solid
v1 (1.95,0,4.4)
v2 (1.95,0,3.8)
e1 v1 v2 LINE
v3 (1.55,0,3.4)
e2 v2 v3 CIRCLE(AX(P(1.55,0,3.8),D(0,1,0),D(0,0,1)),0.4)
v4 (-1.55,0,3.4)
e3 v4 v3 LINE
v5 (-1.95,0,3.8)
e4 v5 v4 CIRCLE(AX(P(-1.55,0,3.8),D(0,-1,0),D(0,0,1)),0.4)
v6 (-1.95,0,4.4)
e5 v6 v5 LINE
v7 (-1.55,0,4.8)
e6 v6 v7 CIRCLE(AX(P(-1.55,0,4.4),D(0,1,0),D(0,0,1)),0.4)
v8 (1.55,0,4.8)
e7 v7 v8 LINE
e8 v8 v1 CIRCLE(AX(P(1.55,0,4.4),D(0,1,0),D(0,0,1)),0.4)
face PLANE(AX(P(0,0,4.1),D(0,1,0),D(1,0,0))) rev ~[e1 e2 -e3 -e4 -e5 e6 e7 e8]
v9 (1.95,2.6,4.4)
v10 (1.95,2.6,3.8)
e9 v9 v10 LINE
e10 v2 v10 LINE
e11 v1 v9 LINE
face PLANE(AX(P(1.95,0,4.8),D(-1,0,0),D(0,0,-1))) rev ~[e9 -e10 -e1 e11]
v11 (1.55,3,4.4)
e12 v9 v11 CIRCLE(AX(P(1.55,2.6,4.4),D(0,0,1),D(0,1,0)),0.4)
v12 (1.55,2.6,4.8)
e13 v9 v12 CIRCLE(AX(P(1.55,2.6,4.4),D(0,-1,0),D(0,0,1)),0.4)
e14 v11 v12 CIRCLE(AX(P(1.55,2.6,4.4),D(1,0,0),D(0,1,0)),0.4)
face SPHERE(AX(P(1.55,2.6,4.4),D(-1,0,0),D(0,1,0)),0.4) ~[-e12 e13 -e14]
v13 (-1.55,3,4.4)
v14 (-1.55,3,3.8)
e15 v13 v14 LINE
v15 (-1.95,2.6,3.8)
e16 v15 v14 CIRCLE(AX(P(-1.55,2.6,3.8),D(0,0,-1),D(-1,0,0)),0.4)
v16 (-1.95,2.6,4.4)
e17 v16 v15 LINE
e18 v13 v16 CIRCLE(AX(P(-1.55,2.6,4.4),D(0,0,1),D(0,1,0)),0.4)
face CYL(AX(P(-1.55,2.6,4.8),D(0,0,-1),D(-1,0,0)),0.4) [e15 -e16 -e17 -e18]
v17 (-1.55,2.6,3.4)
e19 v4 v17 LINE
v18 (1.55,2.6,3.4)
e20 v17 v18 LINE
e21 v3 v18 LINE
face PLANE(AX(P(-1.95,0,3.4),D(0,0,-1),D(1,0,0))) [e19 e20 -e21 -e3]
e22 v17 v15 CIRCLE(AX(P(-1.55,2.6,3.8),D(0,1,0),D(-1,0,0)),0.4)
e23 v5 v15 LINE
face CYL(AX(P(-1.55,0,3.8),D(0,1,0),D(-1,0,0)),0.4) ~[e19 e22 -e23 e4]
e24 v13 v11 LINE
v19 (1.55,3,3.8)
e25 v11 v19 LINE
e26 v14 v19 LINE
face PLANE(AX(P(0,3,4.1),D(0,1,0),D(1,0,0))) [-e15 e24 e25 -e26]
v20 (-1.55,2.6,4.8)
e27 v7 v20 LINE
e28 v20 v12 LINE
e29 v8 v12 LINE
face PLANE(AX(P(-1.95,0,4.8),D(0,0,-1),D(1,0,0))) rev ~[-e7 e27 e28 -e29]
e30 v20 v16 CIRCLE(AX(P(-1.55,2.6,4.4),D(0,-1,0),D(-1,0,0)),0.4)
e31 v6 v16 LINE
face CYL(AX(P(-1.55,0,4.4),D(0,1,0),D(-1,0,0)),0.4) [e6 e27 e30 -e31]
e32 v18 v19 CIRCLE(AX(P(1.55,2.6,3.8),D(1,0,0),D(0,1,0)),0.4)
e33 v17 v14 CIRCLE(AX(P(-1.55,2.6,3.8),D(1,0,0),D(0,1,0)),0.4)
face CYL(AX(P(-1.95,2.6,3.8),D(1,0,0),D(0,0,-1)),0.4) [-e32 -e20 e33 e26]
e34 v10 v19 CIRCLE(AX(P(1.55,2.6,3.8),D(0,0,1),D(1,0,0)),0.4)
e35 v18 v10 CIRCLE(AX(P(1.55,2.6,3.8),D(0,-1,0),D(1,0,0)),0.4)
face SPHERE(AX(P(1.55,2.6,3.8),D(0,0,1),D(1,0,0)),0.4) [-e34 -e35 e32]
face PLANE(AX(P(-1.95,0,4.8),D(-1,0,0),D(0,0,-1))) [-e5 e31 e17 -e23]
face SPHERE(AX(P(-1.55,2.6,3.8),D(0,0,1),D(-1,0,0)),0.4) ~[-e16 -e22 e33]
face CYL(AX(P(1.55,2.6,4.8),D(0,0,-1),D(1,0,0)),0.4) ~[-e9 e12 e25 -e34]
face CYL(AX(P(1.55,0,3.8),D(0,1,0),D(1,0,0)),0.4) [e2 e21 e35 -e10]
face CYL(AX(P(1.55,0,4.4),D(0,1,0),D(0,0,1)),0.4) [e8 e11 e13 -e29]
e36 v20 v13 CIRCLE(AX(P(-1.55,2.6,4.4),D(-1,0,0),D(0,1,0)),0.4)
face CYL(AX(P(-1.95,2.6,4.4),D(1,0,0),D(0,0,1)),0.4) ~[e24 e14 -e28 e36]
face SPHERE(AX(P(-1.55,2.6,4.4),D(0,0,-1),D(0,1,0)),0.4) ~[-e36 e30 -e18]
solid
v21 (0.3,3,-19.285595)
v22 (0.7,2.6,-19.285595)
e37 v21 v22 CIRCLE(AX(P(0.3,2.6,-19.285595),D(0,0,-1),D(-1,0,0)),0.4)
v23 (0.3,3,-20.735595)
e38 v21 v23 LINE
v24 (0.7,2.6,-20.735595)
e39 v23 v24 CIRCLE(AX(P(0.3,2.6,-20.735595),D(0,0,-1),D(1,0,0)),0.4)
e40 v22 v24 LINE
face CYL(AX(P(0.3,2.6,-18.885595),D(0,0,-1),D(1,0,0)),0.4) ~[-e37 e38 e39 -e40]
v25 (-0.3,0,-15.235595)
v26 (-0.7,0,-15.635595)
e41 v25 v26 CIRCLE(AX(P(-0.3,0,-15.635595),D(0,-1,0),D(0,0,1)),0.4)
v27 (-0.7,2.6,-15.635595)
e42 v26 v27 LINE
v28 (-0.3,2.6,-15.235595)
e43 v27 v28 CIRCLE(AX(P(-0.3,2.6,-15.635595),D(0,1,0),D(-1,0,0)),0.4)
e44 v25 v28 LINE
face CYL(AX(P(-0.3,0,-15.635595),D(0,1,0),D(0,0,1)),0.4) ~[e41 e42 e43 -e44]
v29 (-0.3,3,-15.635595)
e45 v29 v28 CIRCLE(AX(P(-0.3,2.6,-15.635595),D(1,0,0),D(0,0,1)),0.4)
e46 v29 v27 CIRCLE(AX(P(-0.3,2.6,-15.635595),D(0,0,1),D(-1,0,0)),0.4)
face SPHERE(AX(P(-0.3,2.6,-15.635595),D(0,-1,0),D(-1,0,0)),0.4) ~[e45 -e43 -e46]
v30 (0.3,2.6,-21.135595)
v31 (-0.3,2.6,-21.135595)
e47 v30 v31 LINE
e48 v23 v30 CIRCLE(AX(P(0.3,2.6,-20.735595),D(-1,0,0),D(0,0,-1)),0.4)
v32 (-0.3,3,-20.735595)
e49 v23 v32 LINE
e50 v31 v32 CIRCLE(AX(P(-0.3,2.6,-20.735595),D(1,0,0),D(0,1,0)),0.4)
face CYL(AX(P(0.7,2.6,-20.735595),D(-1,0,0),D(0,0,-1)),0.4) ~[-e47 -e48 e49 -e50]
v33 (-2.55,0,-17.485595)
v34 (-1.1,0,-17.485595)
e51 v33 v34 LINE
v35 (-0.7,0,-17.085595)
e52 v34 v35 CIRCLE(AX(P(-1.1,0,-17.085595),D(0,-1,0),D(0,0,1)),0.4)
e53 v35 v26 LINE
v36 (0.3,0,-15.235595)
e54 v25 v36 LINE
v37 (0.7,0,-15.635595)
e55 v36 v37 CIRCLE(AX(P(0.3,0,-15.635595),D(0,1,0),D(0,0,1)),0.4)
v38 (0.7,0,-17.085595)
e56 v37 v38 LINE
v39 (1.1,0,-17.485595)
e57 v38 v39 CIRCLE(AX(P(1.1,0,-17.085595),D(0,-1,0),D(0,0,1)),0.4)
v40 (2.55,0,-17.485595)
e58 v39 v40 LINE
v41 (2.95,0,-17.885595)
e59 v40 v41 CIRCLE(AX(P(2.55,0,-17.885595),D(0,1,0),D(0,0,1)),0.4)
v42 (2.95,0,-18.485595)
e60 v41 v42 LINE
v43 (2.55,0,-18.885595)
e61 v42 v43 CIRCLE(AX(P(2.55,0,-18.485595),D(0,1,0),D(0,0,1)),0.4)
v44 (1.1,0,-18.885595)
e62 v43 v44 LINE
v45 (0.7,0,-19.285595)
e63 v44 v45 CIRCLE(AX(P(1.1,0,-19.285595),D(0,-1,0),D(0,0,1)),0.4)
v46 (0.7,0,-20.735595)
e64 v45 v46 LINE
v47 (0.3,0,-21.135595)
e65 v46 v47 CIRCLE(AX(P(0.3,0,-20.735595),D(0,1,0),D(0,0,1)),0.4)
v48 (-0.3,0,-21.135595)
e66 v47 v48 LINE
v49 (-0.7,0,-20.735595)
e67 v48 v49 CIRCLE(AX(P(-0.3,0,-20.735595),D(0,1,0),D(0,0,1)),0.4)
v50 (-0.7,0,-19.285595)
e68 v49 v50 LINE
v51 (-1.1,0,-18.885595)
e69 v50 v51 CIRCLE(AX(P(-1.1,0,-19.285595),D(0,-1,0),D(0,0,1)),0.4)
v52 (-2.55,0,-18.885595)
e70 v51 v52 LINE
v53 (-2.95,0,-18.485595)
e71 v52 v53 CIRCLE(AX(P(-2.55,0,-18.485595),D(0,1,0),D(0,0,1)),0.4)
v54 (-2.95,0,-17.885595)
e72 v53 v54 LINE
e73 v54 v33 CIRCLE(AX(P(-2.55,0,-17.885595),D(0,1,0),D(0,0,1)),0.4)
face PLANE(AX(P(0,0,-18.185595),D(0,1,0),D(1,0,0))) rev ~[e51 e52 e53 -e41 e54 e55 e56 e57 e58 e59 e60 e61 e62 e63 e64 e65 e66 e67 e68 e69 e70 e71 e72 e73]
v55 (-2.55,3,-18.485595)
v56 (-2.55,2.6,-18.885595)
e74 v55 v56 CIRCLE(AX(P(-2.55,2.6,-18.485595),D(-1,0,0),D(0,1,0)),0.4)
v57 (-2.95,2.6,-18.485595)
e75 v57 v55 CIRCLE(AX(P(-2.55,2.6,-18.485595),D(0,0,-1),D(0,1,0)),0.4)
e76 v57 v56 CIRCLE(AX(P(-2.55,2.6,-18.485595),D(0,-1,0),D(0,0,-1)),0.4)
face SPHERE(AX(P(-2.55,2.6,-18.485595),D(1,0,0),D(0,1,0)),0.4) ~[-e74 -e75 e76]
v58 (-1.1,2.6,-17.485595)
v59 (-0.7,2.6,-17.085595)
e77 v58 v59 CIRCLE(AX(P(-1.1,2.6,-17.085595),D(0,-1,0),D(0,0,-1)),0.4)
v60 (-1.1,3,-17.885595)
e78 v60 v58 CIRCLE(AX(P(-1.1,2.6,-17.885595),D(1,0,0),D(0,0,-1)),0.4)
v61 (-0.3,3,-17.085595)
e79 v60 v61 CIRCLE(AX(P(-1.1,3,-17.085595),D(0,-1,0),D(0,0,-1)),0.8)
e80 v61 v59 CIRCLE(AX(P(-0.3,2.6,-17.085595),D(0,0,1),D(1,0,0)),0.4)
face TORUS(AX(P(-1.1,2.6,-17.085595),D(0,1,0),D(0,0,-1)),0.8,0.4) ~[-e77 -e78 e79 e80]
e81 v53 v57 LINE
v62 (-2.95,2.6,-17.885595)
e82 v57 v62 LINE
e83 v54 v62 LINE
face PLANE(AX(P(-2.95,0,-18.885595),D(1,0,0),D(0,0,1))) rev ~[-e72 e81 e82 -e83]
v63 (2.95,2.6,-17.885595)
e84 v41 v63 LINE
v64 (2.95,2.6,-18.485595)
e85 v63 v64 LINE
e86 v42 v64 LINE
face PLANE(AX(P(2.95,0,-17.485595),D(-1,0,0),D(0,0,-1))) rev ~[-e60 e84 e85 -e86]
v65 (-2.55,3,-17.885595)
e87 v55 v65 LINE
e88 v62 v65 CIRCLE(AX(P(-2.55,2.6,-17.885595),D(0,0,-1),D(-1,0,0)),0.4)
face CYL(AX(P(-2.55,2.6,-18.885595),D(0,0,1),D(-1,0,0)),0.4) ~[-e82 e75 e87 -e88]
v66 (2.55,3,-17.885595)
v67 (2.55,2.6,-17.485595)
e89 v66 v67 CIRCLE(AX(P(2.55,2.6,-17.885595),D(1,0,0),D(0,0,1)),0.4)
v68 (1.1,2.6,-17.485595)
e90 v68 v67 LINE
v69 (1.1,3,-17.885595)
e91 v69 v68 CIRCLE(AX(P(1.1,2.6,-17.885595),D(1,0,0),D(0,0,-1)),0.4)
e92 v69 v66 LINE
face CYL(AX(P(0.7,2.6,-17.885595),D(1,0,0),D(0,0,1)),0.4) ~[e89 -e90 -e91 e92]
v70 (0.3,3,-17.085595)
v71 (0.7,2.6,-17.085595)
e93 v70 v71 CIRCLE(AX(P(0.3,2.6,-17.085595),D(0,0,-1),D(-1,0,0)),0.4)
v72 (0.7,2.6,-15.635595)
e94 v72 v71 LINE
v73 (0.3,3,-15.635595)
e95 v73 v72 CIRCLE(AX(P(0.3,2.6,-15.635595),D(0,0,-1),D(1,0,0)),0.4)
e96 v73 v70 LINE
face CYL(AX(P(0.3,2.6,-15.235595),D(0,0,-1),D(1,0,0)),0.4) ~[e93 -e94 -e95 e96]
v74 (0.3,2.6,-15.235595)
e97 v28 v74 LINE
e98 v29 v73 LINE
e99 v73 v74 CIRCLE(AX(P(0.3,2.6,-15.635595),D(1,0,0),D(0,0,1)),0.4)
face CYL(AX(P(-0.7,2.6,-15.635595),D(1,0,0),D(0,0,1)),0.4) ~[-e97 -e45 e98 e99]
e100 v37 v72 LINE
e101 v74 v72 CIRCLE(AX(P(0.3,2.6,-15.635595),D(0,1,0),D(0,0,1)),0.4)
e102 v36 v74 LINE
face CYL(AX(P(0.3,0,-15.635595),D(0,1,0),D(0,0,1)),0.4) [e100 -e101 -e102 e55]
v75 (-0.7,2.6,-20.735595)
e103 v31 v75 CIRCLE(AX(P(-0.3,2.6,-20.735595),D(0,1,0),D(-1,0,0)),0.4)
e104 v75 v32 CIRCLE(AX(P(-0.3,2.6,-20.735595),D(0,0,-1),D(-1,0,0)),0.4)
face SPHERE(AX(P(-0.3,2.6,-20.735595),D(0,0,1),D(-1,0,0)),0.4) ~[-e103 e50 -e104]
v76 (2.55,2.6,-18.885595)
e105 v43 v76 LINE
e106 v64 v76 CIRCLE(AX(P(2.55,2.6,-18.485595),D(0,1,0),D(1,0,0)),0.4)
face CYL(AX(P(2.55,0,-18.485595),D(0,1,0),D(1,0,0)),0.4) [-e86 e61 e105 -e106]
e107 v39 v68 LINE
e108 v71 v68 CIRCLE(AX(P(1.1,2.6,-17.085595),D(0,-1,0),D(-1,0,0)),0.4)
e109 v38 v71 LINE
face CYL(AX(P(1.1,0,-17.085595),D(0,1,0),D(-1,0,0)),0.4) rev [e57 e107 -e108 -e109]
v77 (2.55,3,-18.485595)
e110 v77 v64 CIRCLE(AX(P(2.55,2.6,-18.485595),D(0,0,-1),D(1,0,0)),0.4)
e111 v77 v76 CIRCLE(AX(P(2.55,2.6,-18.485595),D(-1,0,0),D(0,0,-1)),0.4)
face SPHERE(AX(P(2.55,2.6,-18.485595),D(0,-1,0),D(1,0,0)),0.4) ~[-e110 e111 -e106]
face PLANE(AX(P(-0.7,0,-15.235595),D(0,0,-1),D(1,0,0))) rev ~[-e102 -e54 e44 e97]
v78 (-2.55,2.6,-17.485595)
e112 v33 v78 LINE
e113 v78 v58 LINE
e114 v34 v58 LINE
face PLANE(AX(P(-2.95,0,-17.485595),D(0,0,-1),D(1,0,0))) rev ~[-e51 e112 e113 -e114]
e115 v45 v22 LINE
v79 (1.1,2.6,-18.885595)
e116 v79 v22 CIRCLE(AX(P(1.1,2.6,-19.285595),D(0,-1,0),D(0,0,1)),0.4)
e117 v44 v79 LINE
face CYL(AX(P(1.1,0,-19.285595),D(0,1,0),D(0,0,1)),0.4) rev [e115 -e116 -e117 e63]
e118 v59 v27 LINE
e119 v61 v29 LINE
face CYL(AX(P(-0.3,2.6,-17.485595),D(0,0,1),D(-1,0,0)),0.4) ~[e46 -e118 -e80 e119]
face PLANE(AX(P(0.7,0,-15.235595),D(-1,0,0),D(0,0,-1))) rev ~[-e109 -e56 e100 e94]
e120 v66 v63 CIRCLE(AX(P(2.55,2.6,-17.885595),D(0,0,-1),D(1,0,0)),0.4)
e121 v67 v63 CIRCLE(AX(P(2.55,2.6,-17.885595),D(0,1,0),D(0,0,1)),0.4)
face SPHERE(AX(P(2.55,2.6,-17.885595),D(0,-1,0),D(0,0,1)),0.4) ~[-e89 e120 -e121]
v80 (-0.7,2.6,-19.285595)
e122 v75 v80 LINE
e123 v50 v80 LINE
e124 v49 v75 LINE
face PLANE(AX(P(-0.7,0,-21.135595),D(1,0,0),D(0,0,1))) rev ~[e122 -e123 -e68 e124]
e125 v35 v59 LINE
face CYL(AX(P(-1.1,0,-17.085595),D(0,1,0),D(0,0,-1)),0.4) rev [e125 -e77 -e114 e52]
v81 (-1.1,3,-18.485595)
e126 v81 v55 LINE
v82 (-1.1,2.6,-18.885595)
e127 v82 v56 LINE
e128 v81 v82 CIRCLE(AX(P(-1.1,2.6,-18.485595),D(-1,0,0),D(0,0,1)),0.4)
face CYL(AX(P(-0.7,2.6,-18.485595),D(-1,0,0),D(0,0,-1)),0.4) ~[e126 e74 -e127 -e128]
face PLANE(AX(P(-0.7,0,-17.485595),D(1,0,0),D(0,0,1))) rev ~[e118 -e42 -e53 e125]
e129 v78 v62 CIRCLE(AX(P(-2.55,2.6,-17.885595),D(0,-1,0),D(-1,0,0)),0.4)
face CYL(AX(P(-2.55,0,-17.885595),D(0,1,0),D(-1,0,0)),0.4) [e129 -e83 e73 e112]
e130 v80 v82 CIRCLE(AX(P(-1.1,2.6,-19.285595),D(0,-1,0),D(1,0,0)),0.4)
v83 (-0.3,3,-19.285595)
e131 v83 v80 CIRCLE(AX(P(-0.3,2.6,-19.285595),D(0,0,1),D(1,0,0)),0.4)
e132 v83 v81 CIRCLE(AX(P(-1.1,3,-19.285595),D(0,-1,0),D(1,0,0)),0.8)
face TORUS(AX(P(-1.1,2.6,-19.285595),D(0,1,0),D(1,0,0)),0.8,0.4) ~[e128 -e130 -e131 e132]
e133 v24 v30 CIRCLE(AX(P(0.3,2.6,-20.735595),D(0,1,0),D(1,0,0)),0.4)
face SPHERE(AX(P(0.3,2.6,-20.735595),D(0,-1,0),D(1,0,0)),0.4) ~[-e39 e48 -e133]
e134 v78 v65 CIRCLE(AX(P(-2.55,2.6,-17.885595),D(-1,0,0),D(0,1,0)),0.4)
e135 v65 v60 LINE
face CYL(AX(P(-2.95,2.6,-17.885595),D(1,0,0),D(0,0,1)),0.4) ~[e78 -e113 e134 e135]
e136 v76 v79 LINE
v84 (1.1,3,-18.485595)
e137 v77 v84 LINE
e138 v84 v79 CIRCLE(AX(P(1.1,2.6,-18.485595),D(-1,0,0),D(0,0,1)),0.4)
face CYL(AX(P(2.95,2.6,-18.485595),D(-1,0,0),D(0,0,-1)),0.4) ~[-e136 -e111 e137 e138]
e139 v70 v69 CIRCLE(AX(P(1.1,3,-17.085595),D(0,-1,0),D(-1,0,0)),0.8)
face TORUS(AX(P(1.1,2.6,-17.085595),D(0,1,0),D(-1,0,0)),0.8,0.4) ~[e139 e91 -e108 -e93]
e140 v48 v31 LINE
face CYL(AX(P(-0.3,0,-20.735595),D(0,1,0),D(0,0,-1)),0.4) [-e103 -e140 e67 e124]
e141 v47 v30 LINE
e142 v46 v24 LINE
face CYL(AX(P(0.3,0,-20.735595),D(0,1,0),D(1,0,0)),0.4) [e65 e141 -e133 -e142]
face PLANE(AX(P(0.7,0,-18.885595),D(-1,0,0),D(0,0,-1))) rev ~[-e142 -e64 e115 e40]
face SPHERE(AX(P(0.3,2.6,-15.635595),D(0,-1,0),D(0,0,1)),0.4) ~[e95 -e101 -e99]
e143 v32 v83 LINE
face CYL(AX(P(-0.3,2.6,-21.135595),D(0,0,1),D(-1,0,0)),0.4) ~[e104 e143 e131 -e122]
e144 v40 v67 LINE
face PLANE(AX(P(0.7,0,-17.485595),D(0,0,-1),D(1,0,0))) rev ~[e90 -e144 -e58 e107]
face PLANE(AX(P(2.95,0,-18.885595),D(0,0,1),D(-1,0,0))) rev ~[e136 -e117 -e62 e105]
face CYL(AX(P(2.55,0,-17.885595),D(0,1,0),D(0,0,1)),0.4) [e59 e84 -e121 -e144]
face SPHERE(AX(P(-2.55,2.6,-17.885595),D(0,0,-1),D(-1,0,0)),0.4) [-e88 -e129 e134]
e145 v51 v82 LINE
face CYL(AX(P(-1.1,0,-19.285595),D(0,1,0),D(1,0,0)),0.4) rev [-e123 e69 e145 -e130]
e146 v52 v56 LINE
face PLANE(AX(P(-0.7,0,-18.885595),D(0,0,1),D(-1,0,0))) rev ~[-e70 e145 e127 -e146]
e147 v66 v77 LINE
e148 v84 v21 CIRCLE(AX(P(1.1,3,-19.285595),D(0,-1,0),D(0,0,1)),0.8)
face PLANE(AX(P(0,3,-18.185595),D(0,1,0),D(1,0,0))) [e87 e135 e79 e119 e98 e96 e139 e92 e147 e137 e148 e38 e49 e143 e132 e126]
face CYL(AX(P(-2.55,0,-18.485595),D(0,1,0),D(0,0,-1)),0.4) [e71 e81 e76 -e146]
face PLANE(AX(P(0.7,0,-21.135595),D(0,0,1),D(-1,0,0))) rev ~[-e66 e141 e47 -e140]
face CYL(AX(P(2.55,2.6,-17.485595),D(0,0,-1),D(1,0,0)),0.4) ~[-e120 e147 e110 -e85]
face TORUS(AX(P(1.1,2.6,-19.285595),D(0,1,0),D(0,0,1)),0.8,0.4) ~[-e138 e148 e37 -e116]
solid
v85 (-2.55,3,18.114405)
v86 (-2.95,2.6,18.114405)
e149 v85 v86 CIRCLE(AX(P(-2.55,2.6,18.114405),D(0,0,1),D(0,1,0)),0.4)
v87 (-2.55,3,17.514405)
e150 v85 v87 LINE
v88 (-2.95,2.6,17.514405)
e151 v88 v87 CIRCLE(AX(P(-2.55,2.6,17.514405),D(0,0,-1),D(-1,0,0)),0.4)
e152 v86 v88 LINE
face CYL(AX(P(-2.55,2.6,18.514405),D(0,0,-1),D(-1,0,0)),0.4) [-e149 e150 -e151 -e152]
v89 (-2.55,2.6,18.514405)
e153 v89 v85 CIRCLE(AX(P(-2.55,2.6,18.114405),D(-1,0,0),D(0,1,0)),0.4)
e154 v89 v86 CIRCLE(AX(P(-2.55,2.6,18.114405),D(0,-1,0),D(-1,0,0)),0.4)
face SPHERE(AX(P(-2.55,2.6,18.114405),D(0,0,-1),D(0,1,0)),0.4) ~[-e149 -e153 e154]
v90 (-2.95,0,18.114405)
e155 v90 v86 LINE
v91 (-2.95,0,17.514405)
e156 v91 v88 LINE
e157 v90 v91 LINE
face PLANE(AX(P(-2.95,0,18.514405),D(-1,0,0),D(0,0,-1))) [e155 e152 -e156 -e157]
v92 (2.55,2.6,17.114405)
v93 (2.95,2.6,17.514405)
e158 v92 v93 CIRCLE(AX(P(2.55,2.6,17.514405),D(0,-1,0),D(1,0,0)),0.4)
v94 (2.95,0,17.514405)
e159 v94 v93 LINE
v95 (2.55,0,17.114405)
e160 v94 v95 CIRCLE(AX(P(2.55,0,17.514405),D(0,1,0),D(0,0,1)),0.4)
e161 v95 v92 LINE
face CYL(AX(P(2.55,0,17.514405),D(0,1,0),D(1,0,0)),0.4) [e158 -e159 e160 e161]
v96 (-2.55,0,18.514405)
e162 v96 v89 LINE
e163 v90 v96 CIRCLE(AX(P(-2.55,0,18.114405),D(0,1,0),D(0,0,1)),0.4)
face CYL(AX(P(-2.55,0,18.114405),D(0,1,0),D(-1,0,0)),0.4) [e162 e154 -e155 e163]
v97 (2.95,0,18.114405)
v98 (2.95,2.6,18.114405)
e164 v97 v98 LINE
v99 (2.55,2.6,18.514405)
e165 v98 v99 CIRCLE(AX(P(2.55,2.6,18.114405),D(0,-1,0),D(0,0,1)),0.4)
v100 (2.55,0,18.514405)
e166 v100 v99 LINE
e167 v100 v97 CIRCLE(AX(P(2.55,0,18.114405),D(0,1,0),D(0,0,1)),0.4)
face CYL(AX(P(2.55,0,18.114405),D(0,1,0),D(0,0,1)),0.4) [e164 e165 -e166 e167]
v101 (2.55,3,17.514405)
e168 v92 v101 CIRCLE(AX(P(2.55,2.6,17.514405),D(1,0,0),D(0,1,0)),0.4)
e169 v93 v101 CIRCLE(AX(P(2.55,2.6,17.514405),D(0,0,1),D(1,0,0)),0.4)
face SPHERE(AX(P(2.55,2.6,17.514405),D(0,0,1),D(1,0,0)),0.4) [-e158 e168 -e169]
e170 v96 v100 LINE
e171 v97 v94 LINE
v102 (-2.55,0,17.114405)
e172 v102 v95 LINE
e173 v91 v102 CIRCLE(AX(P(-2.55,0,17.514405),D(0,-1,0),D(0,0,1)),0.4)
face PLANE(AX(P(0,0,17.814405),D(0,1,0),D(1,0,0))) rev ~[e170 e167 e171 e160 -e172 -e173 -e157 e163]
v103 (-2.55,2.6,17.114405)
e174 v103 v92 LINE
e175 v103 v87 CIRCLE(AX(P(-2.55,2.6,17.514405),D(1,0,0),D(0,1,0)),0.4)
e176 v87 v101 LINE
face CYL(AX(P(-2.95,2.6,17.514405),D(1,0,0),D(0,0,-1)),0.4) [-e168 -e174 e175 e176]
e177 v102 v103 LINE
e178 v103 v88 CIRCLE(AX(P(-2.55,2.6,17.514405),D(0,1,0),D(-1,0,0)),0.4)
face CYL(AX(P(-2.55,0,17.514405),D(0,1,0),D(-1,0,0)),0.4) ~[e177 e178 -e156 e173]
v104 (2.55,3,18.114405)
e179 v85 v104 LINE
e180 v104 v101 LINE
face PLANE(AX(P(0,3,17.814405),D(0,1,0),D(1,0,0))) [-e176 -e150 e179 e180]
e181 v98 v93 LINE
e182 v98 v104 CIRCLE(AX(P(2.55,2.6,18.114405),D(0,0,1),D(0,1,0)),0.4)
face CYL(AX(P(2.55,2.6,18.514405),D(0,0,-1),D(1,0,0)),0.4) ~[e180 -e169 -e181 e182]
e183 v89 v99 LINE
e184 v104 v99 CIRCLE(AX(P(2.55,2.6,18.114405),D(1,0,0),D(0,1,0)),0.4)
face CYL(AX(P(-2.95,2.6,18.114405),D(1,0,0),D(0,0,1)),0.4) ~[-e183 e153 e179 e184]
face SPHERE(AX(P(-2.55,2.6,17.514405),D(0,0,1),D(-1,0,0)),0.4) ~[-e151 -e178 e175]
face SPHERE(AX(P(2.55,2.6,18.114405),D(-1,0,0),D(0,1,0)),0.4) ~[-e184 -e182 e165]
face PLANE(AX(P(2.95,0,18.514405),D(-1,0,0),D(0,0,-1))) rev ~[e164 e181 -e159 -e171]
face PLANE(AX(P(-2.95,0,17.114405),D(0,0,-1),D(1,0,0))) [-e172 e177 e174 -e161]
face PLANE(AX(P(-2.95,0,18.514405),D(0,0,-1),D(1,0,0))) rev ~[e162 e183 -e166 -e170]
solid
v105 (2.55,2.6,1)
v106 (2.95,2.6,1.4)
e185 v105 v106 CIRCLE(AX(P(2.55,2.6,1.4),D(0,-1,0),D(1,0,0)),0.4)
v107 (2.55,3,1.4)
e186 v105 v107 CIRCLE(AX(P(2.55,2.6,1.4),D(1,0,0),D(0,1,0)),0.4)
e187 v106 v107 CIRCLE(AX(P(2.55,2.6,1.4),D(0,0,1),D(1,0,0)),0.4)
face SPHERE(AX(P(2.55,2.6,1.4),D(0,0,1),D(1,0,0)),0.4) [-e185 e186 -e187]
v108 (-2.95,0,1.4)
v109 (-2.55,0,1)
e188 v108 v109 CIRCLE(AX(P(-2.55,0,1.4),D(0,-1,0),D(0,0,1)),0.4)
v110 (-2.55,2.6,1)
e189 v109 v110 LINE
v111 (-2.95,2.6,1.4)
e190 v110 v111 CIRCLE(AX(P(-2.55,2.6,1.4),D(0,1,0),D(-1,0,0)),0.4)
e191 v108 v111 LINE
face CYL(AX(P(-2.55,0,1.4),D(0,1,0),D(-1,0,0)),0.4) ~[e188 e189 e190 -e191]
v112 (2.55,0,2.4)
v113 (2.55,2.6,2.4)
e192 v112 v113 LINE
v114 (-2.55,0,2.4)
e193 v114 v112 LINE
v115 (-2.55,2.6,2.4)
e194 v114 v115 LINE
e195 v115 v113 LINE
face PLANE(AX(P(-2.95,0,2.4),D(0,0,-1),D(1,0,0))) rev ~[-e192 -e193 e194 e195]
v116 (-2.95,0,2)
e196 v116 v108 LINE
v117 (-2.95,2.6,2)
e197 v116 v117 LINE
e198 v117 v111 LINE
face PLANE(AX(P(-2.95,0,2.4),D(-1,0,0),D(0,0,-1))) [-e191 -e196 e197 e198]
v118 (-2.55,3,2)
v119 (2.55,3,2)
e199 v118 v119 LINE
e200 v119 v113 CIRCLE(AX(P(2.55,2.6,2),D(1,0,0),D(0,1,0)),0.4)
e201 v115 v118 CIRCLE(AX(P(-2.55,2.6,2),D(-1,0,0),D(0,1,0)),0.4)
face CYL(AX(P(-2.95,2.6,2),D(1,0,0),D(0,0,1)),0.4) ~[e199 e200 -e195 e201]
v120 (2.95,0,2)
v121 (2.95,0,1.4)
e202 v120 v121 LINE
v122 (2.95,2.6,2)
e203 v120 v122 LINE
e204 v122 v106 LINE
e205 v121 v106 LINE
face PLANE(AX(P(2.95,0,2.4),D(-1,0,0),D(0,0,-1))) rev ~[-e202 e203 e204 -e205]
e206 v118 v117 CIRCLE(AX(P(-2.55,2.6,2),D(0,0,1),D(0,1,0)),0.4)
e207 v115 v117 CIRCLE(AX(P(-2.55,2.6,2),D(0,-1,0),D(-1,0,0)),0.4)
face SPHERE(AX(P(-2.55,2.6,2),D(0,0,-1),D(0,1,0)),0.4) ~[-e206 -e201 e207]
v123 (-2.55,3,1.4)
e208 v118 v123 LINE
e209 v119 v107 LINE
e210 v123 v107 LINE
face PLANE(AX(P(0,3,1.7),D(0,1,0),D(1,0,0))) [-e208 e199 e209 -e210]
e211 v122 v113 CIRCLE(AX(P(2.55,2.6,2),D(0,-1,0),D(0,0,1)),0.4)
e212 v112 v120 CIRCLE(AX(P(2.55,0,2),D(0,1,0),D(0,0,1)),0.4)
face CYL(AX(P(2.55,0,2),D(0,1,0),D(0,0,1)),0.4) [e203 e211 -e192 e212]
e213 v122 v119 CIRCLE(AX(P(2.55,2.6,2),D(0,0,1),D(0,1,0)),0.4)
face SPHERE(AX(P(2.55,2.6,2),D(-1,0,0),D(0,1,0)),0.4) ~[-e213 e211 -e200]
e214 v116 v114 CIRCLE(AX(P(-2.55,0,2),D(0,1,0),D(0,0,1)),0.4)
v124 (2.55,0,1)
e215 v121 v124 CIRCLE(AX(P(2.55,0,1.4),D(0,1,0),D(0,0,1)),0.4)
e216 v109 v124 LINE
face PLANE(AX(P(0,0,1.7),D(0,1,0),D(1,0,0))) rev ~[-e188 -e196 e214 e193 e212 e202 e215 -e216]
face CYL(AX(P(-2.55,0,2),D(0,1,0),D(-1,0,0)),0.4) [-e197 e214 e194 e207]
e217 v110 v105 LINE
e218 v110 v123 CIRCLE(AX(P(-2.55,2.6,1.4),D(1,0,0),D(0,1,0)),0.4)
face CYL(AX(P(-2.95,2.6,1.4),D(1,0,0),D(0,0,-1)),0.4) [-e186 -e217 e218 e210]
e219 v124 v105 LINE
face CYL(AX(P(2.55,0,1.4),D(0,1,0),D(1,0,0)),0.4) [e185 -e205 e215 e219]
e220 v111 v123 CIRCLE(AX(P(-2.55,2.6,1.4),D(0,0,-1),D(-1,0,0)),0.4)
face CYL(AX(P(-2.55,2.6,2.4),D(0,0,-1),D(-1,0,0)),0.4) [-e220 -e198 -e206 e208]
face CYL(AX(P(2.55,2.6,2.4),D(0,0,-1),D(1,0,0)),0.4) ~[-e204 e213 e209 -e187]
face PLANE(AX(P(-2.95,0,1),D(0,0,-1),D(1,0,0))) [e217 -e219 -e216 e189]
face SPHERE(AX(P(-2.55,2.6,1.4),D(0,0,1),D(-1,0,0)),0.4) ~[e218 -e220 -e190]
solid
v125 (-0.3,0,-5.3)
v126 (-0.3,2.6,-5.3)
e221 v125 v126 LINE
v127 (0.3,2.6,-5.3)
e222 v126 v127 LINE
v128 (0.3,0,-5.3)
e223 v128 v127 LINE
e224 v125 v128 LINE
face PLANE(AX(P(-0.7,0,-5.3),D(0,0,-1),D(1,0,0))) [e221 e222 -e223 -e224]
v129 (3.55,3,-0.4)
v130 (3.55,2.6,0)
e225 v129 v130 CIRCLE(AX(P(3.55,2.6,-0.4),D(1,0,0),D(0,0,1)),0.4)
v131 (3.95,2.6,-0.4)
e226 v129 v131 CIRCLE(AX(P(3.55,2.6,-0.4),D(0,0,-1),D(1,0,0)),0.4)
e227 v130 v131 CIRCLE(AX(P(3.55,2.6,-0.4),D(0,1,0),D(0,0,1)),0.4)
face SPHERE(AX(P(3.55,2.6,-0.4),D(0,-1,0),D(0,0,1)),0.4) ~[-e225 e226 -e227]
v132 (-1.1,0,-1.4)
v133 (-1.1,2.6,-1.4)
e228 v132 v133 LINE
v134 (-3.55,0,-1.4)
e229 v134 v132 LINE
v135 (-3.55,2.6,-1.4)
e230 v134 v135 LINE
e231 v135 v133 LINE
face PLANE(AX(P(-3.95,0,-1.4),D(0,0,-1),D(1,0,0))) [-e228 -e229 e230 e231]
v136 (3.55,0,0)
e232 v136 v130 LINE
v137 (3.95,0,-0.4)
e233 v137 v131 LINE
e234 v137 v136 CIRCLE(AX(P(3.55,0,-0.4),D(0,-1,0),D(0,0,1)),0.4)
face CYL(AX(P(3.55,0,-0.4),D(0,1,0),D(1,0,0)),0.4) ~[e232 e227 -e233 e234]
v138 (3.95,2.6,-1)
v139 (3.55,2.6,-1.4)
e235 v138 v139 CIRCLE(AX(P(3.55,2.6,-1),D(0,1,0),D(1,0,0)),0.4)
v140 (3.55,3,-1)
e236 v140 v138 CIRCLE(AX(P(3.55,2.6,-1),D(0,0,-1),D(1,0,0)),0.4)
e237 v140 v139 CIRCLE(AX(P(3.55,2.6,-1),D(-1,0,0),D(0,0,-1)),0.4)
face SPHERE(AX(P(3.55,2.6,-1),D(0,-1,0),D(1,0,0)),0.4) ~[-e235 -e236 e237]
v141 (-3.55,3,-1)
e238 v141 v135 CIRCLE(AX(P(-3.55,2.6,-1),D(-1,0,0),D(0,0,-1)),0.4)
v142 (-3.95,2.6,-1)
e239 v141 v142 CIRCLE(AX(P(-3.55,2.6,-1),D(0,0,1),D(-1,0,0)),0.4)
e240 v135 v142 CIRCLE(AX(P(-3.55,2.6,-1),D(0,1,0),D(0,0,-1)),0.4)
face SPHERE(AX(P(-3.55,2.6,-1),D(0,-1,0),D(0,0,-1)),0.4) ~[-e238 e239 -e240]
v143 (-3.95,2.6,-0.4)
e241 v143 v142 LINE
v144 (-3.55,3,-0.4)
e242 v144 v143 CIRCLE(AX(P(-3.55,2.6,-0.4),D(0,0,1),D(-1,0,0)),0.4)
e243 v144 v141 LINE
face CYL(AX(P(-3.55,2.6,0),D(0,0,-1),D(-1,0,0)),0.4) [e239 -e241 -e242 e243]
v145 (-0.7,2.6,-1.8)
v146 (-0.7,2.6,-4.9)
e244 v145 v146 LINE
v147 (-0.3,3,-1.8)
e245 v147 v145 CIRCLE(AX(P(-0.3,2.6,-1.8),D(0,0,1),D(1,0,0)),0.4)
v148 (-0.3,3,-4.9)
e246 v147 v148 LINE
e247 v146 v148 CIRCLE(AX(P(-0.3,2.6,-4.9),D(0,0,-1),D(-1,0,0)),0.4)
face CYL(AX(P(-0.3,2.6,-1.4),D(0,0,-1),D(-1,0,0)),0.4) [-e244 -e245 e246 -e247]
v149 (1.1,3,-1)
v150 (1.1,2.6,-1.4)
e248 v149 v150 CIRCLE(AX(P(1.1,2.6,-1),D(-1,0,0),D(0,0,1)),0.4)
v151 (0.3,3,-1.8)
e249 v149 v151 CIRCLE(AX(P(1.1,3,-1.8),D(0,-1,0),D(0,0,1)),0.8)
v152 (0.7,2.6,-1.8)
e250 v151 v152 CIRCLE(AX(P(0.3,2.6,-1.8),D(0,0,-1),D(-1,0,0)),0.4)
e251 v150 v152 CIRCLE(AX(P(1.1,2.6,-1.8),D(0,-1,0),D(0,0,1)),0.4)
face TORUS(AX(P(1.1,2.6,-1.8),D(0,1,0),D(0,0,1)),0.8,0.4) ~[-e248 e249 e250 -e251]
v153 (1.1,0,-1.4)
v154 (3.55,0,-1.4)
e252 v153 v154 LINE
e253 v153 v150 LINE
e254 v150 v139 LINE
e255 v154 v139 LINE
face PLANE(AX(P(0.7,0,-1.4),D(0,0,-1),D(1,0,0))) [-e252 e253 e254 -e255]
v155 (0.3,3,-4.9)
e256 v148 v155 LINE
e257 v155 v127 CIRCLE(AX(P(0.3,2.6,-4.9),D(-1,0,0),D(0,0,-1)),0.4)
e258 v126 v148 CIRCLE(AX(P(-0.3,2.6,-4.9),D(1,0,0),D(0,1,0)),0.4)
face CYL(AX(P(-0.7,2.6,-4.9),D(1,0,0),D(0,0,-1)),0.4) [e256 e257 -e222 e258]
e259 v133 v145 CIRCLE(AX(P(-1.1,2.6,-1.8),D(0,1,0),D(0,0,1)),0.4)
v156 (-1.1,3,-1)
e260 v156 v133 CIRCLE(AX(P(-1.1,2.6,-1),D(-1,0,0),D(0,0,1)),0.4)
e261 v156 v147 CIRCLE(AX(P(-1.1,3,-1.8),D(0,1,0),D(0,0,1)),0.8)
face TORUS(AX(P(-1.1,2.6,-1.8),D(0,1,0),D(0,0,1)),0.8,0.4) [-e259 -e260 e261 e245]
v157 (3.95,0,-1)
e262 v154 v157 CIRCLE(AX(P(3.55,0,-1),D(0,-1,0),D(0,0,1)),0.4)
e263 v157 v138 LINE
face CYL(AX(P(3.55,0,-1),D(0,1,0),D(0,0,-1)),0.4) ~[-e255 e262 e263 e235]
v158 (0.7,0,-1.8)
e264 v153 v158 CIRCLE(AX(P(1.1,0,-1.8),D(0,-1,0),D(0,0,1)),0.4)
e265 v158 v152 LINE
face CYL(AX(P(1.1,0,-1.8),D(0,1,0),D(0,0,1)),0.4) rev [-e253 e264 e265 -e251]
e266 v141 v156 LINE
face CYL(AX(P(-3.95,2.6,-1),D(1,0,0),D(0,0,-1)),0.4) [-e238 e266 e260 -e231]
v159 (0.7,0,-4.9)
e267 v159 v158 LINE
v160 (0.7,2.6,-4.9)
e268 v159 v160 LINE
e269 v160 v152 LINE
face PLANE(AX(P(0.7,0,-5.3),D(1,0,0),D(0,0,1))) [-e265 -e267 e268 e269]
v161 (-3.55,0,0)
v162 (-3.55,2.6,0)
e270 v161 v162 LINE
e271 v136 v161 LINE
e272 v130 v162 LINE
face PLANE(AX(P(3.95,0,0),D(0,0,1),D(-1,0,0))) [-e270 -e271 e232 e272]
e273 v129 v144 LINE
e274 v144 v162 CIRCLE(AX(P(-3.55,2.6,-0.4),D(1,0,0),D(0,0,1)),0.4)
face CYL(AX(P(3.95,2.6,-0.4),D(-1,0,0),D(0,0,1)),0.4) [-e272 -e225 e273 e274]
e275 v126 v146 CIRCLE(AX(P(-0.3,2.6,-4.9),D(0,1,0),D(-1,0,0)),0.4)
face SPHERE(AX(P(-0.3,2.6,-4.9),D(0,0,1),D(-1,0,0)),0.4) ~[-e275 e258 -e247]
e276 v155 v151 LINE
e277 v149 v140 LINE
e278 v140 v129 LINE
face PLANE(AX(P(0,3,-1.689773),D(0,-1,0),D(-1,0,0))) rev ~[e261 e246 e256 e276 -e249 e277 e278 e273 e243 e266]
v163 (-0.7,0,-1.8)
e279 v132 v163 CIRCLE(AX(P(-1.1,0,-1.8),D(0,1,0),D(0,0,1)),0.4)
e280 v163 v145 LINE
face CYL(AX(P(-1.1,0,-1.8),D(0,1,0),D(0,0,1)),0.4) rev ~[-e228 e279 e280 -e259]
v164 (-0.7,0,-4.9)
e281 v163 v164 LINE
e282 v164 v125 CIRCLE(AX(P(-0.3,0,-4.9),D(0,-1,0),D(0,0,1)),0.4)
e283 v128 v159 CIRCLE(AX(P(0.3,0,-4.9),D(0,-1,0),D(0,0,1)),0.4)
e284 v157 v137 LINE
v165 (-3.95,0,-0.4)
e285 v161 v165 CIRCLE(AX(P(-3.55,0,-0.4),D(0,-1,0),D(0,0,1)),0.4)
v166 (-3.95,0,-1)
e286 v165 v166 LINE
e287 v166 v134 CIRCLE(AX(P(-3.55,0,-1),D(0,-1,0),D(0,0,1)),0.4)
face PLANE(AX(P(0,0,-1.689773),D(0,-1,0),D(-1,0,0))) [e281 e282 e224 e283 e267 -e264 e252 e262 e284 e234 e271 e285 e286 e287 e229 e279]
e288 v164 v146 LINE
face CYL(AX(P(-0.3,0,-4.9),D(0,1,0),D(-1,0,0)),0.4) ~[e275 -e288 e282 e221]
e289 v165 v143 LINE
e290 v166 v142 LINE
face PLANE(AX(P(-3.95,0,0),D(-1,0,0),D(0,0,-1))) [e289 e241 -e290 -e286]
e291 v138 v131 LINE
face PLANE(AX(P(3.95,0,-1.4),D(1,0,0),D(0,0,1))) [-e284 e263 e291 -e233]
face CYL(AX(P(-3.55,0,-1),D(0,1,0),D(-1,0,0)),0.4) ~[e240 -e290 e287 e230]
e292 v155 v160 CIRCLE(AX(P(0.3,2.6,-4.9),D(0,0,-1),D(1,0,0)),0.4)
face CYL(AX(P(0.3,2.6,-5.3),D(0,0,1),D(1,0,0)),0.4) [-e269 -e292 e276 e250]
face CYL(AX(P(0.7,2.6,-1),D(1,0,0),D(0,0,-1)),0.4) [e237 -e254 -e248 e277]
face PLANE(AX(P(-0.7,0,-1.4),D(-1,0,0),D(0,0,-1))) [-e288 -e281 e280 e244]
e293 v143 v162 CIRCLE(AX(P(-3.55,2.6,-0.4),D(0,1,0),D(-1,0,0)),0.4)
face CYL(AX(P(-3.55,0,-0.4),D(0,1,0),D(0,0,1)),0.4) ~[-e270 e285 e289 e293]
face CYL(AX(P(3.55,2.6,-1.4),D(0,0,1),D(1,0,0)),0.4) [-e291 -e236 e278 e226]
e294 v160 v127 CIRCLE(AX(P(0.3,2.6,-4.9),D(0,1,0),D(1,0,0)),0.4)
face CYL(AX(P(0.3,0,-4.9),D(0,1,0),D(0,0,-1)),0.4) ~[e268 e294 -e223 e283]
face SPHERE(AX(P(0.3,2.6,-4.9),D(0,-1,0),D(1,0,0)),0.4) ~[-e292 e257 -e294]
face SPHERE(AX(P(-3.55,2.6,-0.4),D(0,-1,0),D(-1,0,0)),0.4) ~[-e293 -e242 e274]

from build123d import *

# Parameters (mm, degrees)
BOSS_EXTRUDE3_DEPTH   = 3
BOSS_EXTRUDE3_2_DEPTH = 3
SKETCH3_W             = 5.9
SKETCH3_H             = 1.4
BOSS_EXTRUDE3_3_DEPTH = 3
BOSS_EXTRUDE3_4_DEPTH = 3
SKETCH3_W_2           = 3.9
BOSS_EXTRUDE3_5_DEPTH = 3
FILLET1_R             = 0.4
FILLET2_R             = 0.4
FILLET3_R             = 0.4
FILLET4_R             = 0.4
FILLET5_R             = 0.4


with BuildPart() as part:
    # Sketch3 → Boss-Extrude3 (new body)
    with BuildSketch(Plane(origin=(0, 0, 0), x_dir=(1, 0, 0), z_dir=(0, 1, 0))):
        Polygon((-0.7, 15.235595234), (0.7, 15.235595234), (0.7, 17.485595234), (2.95, 17.485595234), (2.95, 18.885595234), (0.7, 18.885595234), (0.7, 21.135595234), (-0.7, 21.135595234), (-0.7, 18.885595234), (-2.95, 18.885595234), (-2.95, 17.485595234), (-0.7, 17.485595234), align=None)
    extrude(amount=BOSS_EXTRUDE3_DEPTH)

    # Fillet1
    fillet1_edges = [part.edges().sort_by_distance(p)[0] for p in [
        (-0.7, 3, -20.010595234),
        (-1.825, 3, -18.885595234),
        (0.7, 1.5, -18.885595234),
        (2.95, 1.5, -18.885595234),
        (2.95, 1.5, -17.485595234),
        (-2.95, 3, -18.185595234),
        (0.7, 1.5, -17.485595234),
        (0.7, 1.5, -15.235595234),
        (-0.7, 1.5, -15.235595234),
        (-0.7, 1.5, -17.485595234),
        (-2.95, 1.5, -17.485595234),
        (-2.95, 1.5, -18.885595234),
        (-0.7, 1.5, -18.885595234),
        (-0.7, 1.5, -21.135595234),
        (0.7, 1.5, -21.135595234),
        (-1.825, 3, -17.485595234),
        (-0.7, 3, -16.360595234),
        (0, 3, -15.235595234),
        (0.7, 3, -16.360595234),
        (1.825, 3, -17.485595234),
        (2.95, 3, -18.185595234),
        (1.825, 3, -18.885595234),
        (0.7, 3, -20.010595234),
        (0, 3, -21.135595234),
    ]]
    fillet(fillet1_edges, radius=FILLET1_R)


with BuildPart() as body_2:
    # Sketch3 → Boss-Extrude3 2 (new body)
    with BuildSketch(Plane(origin=(0, 0, 0), x_dir=(1, 0, 0), z_dir=(0, 1, 0))):
        Polygon((0.7, 1.4), (3.95, 1.4), (3.95, 0), (-3.95, 0), (-3.95, 1.4), (-0.7, 1.4), (-0.7, 5.3), (0.7, 5.3), align=None)
    extrude(amount=BOSS_EXTRUDE3_2_DEPTH)

    # Fillet2
    fillet2_edges = [body_2.edges().sort_by_distance(p)[0] for p in [
        (-0.7, 3, -3.35),
        (0.7, 1.5, -1.4),
        (3.95, 1.5, -1.4),
        (3.95, 1.5, 0),
        (-3.95, 1.5, 0),
        (-3.95, 1.5, -1.4),
        (-0.7, 1.5, -1.4),
        (-0.7, 1.5, -5.3),
        (0.7, 1.5, -5.3),
        (-2.325, 3, -1.4),
        (-3.95, 3, -0.7),
        (0, 3, 0),
        (3.95, 3, -0.7),
        (2.325, 3, -1.4),
        (0.7, 3, -3.35),
        (0, 3, -5.3),
    ]]
    fillet(fillet2_edges, radius=FILLET2_R)


with BuildPart() as body_3:
    # Sketch3 → Boss-Extrude3 3 (new body)
    with BuildSketch(Plane(origin=(0, 0, 0), x_dir=(1, 0, 0), z_dir=(0, 1, 0))):
        with Locations((0, -17.814404766)):
            Rectangle(SKETCH3_W, SKETCH3_H)
    extrude(amount=BOSS_EXTRUDE3_3_DEPTH)

    # Fillet5
    fillet5_edges = [body_3.edges().sort_by_distance(p)[0] for p in [
        (-2.95, 3, 17.814404766),
        (0, 3, 18.514404766),
        (2.95, 3, 17.814404766),
        (2.95, 1.5, 18.514404766),
        (-2.95, 1.5, 18.514404766),
        (-2.95, 1.5, 17.114404766),
        (2.95, 1.5, 17.114404766),
        (0, 3, 17.114404766),
    ]]
    fillet(fillet5_edges, radius=FILLET5_R)


with BuildPart() as body_4:
    # Sketch3 → Boss-Extrude3 4 (new body)
    with BuildSketch(Plane(origin=(0, 0, 0), x_dir=(1, 0, 0), z_dir=(0, 1, 0))):
        with Locations((0, -1.7)):
            Rectangle(SKETCH3_W, SKETCH3_H)
    extrude(amount=BOSS_EXTRUDE3_4_DEPTH)

    # Fillet3
    fillet3_edges = [body_4.edges().sort_by_distance(p)[0] for p in [
        (-2.95, 3, 1.7),
        (0, 3, 2.4),
        (2.95, 3, 1.7),
        (2.95, 1.5, 2.4),
        (-2.95, 1.5, 2.4),
        (-2.95, 1.5, 1),
        (2.95, 1.5, 1),
        (0, 3, 1),
    ]]
    fillet(fillet3_edges, radius=FILLET3_R)


with BuildPart() as body_5:
    # Sketch3 → Boss-Extrude3 5 (new body)
    with BuildSketch(Plane(origin=(0, 0, 0), x_dir=(1, 0, 0), z_dir=(0, 1, 0))):
        with Locations((0, -4.1)):
            Rectangle(SKETCH3_W_2, SKETCH3_H)
    extrude(amount=BOSS_EXTRUDE3_5_DEPTH)

    # Fillet4
    fillet4_edges = [body_5.edges().sort_by_distance(p)[0] for p in [
        (-1.95, 3, 4.1),
        (0, 3, 4.8),
        (1.95, 3, 4.1),
        (1.95, 1.5, 4.8),
        (-1.95, 1.5, 4.8),
        (-1.95, 1.5, 3.4),
        (1.95, 1.5, 3.4),
        (0, 3, 3.4),
    ]]
    fillet(fillet4_edges, radius=FILLET4_R)


solid = Compound([part.part, body_2.part, body_3.part, body_4.part, body_5.part])
